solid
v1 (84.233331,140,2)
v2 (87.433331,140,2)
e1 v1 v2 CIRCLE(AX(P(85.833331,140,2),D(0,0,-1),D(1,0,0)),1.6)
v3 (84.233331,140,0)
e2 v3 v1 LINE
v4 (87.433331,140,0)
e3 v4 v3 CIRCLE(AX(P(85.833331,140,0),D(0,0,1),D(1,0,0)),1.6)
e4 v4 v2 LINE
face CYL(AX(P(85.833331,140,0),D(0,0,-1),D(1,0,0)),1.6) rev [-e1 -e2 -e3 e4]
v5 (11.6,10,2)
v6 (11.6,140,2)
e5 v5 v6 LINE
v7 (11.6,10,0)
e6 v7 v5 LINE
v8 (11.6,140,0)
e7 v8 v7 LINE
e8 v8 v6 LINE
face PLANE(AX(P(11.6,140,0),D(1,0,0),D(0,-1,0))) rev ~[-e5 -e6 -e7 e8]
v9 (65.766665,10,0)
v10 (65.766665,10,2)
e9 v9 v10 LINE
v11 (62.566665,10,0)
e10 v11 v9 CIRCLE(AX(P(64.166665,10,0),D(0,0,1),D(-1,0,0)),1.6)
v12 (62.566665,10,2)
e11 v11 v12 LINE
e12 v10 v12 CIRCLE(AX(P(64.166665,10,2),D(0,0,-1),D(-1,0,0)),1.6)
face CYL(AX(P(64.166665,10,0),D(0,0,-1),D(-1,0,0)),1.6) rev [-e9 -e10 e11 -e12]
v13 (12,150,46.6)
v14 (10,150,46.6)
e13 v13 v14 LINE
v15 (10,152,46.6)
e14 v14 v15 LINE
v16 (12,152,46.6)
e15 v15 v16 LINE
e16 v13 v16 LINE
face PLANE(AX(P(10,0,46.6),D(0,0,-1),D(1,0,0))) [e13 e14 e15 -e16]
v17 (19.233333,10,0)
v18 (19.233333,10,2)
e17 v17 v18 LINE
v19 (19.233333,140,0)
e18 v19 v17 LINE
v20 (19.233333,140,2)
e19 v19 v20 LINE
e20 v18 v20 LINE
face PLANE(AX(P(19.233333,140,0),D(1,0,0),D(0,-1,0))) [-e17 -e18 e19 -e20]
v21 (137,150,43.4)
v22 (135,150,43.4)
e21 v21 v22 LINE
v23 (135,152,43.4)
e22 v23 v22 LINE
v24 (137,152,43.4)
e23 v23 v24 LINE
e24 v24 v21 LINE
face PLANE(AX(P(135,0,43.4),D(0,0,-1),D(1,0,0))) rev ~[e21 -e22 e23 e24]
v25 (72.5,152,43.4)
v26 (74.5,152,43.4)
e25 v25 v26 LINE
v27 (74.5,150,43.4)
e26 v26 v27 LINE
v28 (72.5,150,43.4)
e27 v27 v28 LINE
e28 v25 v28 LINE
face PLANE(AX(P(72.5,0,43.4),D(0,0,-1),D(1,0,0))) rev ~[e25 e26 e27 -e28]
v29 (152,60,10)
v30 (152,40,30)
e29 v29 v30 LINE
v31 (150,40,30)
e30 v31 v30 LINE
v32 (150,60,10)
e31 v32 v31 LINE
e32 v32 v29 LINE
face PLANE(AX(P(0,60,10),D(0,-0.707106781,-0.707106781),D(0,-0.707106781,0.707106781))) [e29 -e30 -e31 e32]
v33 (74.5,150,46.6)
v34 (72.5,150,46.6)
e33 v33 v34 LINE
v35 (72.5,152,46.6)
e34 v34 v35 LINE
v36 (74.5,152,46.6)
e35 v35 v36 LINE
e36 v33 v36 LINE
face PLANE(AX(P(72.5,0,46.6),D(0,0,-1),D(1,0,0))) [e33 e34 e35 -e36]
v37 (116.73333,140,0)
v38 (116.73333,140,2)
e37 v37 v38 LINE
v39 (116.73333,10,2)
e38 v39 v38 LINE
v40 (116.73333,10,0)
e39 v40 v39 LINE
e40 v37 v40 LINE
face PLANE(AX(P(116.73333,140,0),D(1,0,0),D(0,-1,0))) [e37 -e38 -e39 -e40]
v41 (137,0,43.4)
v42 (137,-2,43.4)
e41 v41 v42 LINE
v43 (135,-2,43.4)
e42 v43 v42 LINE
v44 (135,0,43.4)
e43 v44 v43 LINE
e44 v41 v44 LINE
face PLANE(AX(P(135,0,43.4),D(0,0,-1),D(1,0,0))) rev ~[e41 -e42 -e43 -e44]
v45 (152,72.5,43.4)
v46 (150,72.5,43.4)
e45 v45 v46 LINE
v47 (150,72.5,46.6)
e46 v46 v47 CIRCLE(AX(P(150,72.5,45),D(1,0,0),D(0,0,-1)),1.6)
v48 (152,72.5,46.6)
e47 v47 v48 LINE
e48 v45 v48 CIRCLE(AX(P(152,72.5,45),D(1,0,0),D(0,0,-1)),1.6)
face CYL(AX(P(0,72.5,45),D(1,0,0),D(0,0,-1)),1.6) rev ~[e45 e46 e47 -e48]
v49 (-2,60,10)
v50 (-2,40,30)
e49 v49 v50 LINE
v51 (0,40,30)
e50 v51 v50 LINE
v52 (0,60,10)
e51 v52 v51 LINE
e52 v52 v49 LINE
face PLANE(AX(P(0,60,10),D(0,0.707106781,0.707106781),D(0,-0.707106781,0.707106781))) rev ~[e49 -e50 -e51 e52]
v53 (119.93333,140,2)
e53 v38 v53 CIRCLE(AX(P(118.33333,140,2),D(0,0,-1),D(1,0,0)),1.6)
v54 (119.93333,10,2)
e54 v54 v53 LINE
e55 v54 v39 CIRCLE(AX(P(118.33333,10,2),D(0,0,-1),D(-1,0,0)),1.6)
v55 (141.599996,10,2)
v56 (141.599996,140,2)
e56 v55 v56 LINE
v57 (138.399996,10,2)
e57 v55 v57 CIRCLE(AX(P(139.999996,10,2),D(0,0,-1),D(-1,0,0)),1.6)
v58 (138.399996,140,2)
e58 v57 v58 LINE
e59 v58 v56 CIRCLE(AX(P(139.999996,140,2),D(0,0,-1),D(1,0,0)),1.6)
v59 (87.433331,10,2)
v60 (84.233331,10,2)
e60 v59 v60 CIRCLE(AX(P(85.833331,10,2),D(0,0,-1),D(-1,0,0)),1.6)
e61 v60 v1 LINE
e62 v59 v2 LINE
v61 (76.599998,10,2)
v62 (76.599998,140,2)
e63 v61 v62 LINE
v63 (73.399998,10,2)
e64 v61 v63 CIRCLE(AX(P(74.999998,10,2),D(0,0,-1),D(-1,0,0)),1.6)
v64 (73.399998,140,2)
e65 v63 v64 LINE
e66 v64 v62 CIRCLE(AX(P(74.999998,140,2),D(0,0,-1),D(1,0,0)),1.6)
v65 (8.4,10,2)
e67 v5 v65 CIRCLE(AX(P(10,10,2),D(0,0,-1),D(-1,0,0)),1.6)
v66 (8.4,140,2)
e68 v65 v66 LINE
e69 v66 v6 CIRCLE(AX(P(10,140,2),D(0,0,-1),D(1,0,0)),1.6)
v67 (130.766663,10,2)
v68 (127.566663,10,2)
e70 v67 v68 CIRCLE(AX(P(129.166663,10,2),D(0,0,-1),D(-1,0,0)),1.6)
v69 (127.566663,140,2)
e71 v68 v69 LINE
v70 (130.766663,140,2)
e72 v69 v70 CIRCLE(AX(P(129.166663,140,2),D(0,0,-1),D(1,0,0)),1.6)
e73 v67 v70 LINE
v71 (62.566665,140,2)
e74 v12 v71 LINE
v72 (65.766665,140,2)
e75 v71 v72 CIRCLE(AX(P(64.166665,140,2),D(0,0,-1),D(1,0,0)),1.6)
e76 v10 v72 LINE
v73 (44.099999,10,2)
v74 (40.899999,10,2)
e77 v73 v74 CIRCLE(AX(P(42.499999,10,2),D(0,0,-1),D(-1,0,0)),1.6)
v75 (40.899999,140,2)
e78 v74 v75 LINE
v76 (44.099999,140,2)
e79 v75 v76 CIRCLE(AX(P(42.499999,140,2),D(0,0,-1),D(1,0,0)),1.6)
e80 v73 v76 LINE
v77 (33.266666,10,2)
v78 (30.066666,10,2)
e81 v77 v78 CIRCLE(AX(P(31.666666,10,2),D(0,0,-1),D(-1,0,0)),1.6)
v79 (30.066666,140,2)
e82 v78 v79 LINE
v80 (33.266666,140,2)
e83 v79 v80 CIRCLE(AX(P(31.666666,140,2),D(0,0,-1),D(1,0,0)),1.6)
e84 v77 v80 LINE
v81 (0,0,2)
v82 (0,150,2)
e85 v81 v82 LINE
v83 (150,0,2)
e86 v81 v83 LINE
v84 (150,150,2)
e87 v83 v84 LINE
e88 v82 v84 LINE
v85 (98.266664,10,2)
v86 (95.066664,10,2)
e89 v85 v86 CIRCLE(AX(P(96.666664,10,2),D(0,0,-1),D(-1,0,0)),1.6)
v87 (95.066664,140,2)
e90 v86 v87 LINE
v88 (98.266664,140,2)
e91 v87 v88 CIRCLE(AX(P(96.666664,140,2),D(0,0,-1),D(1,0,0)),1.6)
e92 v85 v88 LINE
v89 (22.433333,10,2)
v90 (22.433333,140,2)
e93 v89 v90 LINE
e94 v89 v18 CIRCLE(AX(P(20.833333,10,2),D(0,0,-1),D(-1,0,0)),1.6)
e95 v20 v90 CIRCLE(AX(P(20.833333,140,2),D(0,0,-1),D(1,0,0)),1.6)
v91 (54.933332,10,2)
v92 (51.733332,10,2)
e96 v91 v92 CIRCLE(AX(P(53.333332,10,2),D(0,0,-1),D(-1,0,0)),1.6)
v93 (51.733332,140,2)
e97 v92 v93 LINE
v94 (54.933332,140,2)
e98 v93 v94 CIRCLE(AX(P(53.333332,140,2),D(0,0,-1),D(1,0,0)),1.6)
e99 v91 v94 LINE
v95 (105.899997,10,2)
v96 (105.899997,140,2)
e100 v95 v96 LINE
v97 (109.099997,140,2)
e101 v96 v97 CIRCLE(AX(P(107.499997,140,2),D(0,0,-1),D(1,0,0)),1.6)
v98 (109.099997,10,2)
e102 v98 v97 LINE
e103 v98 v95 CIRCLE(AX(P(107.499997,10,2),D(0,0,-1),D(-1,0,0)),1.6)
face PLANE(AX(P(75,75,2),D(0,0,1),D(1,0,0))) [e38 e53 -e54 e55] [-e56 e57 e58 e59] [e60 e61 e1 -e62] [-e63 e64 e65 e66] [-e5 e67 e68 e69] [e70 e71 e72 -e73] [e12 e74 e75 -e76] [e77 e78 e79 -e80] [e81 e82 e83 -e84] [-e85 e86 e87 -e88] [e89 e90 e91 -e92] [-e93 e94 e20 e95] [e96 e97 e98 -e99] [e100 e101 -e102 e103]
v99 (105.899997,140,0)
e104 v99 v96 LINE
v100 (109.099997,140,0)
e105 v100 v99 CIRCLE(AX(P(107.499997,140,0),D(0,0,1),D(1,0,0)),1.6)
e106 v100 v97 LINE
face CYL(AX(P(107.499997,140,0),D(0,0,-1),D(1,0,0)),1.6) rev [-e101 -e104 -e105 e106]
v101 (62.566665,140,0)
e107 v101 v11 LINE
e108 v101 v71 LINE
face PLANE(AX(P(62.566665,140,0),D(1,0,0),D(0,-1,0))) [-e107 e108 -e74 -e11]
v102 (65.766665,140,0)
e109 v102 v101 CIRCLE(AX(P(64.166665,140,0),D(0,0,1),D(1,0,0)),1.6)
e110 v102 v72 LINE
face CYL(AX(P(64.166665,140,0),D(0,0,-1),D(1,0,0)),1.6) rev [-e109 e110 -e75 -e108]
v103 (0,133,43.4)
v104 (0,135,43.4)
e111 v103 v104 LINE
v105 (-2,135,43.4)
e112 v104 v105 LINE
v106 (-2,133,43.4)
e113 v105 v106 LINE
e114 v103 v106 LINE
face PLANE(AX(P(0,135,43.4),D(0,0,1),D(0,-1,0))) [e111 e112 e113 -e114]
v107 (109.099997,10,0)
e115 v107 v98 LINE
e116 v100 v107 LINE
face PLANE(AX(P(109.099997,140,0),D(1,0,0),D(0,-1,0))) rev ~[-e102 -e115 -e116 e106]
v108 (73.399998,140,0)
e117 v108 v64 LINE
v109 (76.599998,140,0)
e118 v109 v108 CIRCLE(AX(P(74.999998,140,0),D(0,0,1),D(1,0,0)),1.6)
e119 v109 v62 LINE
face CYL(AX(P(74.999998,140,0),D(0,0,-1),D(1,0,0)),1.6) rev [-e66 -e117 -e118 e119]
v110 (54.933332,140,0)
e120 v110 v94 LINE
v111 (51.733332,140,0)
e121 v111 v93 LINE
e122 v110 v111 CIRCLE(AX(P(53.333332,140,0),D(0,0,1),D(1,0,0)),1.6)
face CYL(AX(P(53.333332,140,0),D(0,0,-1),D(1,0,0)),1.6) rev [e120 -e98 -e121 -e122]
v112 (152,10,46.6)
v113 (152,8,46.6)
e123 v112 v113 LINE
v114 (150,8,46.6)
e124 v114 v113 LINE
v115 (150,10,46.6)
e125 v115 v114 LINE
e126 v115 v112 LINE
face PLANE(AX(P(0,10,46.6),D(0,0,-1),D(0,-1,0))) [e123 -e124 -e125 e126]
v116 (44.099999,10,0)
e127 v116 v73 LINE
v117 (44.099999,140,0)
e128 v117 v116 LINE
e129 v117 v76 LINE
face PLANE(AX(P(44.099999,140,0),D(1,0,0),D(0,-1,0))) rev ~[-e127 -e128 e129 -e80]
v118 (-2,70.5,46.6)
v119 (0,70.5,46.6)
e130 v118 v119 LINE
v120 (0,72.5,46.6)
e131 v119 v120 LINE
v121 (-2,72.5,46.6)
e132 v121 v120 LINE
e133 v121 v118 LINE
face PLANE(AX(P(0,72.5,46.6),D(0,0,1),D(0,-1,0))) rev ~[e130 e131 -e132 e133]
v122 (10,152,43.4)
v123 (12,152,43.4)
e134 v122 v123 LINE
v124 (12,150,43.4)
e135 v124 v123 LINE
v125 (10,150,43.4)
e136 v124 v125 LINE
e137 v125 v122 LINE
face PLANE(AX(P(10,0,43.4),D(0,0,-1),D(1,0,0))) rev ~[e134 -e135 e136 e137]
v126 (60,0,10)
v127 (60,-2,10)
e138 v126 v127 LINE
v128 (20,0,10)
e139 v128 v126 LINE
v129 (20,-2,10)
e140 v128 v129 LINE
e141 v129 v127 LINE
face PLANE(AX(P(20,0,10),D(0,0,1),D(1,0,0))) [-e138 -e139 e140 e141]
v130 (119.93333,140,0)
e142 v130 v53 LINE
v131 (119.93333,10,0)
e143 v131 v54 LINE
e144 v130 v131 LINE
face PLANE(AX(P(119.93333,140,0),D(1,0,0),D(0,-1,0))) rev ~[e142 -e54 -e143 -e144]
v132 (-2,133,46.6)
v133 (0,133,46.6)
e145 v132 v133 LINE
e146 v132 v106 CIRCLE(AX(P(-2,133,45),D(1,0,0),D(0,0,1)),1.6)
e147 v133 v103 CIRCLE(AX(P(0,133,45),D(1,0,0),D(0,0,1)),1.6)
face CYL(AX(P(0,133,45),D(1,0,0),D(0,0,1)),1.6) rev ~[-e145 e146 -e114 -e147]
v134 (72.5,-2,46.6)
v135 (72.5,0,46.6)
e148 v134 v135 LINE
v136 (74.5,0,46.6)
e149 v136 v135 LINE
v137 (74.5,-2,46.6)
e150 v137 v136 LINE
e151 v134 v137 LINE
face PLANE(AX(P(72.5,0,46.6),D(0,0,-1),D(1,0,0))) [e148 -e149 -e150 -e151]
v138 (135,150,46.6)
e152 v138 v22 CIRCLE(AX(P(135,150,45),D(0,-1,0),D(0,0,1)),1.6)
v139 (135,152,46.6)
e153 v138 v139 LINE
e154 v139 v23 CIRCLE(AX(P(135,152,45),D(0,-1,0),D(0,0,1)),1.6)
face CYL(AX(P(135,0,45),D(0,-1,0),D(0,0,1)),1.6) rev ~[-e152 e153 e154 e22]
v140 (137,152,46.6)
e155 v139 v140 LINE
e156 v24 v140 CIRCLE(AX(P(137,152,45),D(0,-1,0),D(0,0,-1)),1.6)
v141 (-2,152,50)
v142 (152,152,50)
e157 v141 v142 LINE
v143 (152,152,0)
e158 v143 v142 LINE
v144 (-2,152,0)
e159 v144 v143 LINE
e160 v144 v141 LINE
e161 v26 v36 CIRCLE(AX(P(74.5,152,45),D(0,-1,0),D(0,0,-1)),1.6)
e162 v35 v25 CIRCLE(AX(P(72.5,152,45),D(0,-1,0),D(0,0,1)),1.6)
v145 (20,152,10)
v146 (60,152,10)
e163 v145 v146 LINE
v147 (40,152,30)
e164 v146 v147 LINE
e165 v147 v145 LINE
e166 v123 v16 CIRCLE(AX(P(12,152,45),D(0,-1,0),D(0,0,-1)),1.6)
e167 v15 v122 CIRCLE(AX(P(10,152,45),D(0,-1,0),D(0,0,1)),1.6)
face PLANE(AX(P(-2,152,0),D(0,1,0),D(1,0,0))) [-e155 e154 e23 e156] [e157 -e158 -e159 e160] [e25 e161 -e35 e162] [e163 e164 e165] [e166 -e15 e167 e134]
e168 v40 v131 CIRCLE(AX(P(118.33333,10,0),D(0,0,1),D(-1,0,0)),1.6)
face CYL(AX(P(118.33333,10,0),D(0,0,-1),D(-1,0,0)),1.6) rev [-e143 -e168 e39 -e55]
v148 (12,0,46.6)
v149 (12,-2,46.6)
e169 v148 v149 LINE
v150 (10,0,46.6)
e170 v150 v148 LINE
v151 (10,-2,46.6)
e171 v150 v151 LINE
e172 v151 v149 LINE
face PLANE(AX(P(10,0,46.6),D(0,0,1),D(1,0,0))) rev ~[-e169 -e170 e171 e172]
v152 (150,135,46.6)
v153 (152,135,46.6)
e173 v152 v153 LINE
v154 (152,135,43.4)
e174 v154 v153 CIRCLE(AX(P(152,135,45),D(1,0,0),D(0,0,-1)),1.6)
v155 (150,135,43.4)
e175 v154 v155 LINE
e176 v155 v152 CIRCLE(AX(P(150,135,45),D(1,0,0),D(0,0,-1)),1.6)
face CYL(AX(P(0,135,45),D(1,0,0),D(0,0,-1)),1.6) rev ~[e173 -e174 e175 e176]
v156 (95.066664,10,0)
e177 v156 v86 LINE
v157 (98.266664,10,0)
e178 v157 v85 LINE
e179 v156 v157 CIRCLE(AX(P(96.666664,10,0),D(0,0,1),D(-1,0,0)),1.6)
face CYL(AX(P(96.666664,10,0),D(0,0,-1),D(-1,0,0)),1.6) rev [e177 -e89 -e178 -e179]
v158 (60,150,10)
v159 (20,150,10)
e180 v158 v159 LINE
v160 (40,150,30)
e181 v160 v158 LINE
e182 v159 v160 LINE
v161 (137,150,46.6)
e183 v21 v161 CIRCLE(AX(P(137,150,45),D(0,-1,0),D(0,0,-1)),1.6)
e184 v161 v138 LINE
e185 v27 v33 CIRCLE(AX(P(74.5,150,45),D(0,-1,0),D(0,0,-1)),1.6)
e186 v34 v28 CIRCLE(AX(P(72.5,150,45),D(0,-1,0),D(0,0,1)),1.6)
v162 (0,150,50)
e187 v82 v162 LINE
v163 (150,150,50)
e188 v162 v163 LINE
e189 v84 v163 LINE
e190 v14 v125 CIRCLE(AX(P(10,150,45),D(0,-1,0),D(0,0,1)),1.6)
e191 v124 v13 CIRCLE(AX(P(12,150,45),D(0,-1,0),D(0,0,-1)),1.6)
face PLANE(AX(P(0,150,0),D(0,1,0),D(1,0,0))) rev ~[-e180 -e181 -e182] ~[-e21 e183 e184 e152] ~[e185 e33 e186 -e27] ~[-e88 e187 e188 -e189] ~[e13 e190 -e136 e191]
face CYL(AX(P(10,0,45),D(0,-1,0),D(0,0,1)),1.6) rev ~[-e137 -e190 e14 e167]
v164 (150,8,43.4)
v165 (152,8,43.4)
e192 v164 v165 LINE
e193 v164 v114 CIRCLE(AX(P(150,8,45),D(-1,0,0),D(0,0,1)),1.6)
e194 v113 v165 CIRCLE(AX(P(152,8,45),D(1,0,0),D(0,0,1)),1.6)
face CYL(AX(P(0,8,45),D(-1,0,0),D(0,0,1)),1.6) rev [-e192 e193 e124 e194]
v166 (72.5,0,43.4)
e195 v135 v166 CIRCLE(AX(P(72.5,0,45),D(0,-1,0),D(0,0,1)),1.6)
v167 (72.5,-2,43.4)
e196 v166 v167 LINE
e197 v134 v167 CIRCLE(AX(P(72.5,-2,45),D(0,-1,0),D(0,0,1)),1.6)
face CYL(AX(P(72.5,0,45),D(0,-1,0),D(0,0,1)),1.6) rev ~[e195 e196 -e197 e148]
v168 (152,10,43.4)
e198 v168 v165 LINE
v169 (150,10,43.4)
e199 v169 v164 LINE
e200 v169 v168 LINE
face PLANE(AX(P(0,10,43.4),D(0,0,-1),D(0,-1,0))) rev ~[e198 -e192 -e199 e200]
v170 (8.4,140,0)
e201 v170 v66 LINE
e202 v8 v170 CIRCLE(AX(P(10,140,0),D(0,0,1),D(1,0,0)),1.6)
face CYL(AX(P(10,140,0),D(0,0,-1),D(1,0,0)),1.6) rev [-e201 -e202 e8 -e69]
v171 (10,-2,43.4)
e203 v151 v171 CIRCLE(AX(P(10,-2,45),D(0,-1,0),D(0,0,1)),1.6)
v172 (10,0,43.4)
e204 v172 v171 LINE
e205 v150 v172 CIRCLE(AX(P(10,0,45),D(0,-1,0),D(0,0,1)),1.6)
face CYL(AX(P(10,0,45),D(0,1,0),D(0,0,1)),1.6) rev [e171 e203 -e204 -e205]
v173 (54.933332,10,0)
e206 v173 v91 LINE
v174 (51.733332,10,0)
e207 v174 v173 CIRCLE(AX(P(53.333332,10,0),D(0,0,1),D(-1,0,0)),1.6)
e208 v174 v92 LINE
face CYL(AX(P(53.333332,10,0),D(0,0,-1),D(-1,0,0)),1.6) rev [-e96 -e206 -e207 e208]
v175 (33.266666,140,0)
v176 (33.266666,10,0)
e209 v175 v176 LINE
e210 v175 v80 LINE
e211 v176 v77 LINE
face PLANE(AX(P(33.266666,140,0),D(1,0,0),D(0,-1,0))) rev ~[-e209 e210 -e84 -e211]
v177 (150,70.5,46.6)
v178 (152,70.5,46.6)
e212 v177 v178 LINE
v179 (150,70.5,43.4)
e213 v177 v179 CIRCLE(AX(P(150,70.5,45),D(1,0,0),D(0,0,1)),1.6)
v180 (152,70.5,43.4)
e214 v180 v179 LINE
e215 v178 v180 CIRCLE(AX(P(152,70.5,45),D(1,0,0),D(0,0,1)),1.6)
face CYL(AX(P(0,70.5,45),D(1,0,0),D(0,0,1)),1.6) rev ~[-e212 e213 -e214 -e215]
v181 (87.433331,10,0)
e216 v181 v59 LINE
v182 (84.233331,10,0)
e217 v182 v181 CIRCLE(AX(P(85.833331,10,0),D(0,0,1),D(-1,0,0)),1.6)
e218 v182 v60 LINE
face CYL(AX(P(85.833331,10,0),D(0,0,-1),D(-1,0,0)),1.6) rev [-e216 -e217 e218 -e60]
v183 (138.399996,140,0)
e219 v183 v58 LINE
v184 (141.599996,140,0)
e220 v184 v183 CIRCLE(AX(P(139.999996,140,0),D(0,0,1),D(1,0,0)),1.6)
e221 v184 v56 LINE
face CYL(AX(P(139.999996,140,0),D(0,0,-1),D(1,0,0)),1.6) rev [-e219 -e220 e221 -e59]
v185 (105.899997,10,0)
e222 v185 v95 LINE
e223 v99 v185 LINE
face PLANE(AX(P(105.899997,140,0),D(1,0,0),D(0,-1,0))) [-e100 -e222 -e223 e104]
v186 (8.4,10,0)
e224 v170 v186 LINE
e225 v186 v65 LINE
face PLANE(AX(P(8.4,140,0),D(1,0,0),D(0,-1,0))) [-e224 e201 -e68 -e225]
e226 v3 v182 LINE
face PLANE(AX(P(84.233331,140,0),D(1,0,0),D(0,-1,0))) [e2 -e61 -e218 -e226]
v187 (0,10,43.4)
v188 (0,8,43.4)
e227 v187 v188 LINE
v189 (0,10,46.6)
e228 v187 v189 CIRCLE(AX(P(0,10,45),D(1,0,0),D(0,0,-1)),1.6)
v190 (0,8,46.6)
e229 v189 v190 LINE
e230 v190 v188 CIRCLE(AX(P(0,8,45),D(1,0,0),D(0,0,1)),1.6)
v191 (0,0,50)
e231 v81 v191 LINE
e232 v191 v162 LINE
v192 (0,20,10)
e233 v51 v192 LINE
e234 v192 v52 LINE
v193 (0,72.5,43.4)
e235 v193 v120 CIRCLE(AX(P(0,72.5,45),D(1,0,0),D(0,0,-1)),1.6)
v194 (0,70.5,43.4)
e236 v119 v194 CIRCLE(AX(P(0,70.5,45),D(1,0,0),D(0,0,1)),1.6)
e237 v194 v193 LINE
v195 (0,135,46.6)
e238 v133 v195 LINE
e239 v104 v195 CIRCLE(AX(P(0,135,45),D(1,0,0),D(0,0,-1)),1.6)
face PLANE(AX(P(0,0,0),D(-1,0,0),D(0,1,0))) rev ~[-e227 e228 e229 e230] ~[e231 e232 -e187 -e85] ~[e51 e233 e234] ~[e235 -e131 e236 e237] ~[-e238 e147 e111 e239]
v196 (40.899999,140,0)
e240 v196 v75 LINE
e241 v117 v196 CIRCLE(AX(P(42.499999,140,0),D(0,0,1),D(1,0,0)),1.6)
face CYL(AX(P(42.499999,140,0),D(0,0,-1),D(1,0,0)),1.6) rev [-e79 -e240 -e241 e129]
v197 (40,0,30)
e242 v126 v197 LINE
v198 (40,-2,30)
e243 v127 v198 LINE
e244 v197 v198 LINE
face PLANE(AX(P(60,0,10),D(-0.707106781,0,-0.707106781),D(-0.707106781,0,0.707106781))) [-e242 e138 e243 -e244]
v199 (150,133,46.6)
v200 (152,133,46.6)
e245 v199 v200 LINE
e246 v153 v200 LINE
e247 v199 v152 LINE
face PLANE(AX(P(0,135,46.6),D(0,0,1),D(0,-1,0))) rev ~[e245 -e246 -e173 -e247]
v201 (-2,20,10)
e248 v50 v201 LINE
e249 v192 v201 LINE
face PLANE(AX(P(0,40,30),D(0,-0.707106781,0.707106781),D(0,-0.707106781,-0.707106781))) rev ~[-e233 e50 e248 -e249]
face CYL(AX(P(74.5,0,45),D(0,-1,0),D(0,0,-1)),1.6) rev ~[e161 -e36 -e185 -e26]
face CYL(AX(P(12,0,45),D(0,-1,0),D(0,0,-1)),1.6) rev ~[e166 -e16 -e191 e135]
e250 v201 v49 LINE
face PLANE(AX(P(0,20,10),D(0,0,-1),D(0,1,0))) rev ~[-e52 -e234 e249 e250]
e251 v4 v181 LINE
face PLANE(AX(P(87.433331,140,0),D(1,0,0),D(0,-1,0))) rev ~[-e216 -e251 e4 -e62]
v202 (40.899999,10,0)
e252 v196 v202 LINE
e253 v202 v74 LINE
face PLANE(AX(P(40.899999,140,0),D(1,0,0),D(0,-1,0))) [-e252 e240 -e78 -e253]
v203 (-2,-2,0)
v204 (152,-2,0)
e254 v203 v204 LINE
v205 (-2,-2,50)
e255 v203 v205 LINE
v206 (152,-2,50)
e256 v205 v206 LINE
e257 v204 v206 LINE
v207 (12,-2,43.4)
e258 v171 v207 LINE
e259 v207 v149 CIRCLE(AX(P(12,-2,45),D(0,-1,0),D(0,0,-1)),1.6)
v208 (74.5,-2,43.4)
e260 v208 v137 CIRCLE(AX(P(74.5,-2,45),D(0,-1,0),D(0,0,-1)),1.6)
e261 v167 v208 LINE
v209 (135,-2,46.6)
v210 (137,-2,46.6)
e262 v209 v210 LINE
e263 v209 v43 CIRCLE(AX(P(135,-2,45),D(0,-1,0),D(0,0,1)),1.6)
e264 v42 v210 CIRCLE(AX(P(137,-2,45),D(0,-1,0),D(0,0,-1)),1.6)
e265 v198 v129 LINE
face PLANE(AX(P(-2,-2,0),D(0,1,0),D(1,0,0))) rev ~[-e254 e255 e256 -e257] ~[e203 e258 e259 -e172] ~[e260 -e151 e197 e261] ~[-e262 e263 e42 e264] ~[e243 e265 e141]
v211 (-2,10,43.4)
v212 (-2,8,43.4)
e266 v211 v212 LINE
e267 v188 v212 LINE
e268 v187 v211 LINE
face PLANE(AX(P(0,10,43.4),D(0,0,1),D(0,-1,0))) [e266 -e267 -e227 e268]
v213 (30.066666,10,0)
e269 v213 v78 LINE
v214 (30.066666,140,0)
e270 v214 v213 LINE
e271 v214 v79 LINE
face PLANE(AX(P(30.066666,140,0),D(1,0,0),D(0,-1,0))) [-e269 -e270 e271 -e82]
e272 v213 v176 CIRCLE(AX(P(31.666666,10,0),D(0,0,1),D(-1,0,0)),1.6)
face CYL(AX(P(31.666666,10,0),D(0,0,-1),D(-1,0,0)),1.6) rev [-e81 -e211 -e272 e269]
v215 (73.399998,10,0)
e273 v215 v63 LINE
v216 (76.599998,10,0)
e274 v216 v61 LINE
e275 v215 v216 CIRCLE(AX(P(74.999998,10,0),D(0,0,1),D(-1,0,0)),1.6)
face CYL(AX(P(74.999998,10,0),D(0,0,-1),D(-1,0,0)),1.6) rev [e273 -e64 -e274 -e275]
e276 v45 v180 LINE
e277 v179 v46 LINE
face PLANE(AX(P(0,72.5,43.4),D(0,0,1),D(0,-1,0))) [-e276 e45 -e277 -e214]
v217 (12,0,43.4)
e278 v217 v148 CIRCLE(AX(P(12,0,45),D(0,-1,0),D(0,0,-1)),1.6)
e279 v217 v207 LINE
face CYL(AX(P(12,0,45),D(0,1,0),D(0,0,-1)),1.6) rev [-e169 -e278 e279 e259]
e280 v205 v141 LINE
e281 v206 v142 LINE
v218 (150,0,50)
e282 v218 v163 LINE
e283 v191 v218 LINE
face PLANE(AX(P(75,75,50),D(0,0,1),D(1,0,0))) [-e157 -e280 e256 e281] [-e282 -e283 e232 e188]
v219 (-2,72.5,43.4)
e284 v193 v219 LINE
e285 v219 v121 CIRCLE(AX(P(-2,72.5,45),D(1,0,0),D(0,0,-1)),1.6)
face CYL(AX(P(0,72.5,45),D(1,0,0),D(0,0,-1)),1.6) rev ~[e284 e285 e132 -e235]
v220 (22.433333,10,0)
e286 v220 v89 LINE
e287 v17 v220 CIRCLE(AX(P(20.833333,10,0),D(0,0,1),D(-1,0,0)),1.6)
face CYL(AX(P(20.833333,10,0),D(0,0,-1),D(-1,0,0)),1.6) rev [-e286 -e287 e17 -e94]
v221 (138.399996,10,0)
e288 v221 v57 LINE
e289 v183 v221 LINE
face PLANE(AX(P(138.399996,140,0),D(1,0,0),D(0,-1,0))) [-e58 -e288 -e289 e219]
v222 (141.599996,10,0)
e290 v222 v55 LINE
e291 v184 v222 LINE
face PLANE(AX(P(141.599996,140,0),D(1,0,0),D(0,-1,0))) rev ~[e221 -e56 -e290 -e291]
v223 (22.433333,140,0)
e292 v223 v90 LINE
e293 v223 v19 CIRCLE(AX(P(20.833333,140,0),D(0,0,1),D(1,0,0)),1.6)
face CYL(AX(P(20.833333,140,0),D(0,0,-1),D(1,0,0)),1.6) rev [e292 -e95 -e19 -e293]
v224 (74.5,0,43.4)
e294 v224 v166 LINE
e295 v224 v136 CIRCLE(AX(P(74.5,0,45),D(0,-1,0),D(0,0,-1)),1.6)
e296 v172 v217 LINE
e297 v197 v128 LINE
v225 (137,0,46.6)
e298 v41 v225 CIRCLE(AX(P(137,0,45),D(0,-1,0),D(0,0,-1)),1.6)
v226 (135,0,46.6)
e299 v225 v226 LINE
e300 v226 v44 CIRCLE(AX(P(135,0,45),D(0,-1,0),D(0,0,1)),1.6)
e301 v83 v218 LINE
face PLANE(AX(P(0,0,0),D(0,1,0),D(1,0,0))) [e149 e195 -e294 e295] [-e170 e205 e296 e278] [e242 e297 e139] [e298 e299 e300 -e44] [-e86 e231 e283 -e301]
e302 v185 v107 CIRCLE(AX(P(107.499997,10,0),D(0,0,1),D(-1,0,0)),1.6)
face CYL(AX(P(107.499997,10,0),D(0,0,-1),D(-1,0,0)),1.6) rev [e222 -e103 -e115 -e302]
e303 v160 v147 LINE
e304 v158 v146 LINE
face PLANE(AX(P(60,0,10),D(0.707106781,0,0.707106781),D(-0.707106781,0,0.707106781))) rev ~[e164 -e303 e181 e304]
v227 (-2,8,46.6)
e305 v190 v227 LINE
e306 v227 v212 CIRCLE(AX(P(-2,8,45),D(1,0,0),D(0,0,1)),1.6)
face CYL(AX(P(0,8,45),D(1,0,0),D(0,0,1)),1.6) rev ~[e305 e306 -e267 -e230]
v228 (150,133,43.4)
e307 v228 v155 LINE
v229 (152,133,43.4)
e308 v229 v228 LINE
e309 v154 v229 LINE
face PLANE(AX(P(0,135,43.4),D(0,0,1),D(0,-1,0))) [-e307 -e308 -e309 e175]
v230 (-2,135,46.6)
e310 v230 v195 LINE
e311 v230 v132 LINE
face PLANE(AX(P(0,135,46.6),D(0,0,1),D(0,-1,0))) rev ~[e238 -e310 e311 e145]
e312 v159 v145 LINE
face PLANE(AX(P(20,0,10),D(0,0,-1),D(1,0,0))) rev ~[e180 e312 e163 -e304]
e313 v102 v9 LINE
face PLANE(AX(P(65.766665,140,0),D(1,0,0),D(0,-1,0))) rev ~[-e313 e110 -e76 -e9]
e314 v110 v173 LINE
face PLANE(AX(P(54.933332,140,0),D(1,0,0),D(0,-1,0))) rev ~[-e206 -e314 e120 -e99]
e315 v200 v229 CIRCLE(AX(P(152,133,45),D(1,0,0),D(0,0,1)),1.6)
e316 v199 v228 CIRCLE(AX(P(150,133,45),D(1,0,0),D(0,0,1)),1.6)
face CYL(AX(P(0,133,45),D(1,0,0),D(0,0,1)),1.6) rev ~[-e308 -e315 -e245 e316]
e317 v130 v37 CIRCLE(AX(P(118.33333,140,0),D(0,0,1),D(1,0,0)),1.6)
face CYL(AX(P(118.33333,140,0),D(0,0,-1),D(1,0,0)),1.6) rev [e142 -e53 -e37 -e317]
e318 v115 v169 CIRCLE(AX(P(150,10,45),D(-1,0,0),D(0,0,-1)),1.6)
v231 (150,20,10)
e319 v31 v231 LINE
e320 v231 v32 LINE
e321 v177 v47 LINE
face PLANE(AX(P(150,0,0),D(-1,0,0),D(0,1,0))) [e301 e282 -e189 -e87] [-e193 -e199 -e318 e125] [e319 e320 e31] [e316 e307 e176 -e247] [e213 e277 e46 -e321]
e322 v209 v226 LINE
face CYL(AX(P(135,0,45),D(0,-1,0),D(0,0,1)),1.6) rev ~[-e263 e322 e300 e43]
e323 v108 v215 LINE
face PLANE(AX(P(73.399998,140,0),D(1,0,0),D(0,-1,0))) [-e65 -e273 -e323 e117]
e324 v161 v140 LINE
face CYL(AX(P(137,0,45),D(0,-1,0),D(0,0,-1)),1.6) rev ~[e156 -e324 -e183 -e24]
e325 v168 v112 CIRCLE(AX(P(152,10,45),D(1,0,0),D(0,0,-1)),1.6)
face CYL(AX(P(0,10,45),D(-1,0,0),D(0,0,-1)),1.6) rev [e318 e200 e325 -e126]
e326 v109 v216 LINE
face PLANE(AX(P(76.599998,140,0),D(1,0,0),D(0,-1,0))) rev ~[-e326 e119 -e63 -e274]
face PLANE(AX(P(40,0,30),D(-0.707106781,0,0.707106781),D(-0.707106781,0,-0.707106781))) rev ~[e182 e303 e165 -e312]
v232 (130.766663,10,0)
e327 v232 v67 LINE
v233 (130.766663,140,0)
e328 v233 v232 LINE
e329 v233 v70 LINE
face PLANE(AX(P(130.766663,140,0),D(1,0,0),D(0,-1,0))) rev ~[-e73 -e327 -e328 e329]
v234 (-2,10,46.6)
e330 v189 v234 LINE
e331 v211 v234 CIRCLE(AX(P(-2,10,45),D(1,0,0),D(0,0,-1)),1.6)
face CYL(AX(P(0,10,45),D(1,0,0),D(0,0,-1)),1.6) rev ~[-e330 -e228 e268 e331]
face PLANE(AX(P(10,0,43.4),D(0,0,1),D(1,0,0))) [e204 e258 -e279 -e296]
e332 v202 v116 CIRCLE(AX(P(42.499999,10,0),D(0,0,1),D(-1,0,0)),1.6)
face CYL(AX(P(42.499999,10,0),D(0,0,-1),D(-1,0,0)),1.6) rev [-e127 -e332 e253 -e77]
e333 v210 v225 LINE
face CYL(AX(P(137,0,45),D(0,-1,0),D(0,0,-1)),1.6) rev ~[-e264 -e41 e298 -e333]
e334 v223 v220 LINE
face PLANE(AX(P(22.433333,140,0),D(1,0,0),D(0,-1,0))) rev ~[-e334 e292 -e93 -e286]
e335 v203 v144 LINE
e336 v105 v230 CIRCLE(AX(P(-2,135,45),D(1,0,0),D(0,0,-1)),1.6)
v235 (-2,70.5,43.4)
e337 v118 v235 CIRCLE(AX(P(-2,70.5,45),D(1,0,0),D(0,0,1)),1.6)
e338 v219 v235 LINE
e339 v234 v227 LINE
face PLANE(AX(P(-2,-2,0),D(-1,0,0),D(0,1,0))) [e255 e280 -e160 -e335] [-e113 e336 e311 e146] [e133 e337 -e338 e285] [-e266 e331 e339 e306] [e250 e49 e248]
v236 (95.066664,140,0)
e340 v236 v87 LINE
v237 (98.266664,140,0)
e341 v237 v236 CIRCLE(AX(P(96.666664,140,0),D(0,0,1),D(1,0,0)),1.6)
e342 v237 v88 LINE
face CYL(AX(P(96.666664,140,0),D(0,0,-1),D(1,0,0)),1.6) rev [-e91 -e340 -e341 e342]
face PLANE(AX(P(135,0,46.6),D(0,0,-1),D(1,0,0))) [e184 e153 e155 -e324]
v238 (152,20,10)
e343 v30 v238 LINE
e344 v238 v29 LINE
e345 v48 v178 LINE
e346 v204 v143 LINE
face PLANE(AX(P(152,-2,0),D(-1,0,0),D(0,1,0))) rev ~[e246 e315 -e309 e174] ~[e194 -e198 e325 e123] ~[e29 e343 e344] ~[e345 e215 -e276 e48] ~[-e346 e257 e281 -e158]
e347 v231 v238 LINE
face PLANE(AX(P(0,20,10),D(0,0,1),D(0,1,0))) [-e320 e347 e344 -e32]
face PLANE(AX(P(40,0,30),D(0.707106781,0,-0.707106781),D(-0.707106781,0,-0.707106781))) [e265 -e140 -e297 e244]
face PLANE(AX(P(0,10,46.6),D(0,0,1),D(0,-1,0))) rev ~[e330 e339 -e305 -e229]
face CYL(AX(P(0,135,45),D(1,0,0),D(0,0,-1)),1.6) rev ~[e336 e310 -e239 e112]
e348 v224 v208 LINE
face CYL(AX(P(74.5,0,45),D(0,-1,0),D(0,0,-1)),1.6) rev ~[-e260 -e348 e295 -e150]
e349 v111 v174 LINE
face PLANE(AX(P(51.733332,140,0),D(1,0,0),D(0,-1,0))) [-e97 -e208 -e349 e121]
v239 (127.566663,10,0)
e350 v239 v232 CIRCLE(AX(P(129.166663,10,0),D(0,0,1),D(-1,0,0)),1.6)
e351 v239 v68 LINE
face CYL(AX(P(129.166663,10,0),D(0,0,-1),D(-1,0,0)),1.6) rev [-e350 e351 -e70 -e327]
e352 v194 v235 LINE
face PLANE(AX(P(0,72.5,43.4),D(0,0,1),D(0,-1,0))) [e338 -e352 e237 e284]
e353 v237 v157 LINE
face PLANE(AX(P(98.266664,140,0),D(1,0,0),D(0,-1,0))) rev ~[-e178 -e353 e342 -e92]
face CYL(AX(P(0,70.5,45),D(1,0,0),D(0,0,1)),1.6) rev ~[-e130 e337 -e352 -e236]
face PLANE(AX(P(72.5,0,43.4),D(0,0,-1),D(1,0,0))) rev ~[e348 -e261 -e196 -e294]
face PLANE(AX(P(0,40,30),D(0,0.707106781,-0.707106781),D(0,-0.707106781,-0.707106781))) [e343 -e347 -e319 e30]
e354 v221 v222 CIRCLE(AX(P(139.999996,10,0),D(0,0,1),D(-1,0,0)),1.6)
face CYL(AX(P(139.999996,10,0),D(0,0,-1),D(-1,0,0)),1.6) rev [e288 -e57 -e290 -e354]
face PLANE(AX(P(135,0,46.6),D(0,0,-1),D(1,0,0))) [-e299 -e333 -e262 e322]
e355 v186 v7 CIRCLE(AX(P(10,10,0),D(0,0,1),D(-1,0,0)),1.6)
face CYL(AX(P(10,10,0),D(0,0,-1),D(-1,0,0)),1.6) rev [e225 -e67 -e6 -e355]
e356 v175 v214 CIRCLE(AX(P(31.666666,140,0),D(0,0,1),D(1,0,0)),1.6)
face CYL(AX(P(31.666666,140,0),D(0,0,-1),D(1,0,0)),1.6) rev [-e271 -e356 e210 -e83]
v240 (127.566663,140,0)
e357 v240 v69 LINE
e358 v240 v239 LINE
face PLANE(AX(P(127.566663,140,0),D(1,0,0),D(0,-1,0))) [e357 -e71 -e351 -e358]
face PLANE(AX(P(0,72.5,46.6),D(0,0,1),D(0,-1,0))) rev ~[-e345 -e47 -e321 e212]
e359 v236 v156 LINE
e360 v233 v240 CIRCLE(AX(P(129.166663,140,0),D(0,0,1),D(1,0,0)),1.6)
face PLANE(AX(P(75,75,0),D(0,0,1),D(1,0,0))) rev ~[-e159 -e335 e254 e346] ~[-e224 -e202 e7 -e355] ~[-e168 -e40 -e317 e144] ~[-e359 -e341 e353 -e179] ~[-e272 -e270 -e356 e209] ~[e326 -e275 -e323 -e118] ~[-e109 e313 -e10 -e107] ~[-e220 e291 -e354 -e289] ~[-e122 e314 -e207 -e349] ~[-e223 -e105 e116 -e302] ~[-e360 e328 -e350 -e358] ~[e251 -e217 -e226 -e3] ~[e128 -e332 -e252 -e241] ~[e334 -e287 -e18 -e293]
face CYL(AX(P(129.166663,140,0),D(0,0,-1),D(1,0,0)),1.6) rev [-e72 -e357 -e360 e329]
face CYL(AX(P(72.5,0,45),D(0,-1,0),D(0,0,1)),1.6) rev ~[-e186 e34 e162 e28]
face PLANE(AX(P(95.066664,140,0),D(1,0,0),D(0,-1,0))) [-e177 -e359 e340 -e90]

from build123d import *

# Parameters (mm, degrees)
SKETCH_W               = 150
SKETCH_H               = 150
PAD_DEPTH              = 2
POCKET_DEPTH           = 2.001
LINEARPATTERN_COUNT    = 13
LINEARPATTERN_PITCH    = 10.833333
SKETCH002_W            = 154
SKETCH002_H            = 154
SKETCH002_W_2          = 150
SKETCH002_H_2          = 150
PAD001_DEPTH           = 50
POCKET001_DEPTH        = 152
POCKET001_DEPTH_BACK   = 2
POCKET002_DEPTH        = 2
POCKET002_DEPTH_BACK   = 152
LINEARPATTERN001_COUNT = 3
LINEARPATTERN001_PITCH = 62.5
LINEARPATTERN002_COUNT = 3
LINEARPATTERN002_PITCH = 62.5
POCKET003_DEPTH        = 152
POCKET003_DEPTH_BACK   = 2
POCKET004_DEPTH        = 2
POCKET004_DEPTH_BACK   = 152


with BuildPart() as part:
    # Sketch → Pad (new body)
    with BuildSketch(Plane.XY):
        with Locations((75, 75)):
            Rectangle(SKETCH_W, SKETCH_H)
    extrude(amount=PAD_DEPTH)

    # Sketch001 → Pocket (cut, through all)
    with BuildSketch(Plane.XY):
        with BuildLine():
            ThreePointArc((11.6, 140), (10, 141.6), (8.4, 140))
            Line((8.4, 140), (8.4, 10))
            ThreePointArc((8.4, 10), (10, 8.4), (11.6, 10))
            Line((11.6, 140), (11.6, 10))
        make_face()
    pocket = extrude(amount=POCKET_DEPTH, mode=Mode.SUBTRACT)

    # LinearPattern: Pocket ×13
    with Locations(*[(i * LINEARPATTERN_PITCH, 0, 0) for i in range(1, LINEARPATTERN_COUNT)]):
        add(pocket, mode=Mode.SUBTRACT)

    # Sketch002 → Pad001 (join)
    with BuildSketch(Plane.XY):
        with Locations((75, 75)):
            Rectangle(SKETCH002_W, SKETCH002_H)
        with Locations((75, 75)):
            Rectangle(SKETCH002_W_2, SKETCH002_H_2, mode=Mode.SUBTRACT)
    extrude(amount=PAD001_DEPTH)

    # Sketch003 → Pocket001 (cut, two sides)
    with BuildSketch(Plane.XZ) as pocket001_sk:
        with BuildLine():
            ThreePointArc((10, 46.6), (8.4, 45), (10, 43.4))
            Line((10, 43.4), (12, 43.4))
            ThreePointArc((12, 43.4), (13.6, 45), (12, 46.6))
            Line((10, 46.6), (12, 46.6))
        make_face()
    pocket001 = extrude(amount=-POCKET001_DEPTH, mode=Mode.SUBTRACT) + extrude(pocket001_sk.sketch, amount=POCKET001_DEPTH_BACK, mode=Mode.SUBTRACT)

    # Sketch004 → Pocket002 (cut, two sides)
    with BuildSketch(Plane.YZ) as pocket002_sk:
        with BuildLine():
            ThreePointArc((10, 43.4), (11.6, 45), (10, 46.6))
            Line((10, 46.6), (8, 46.6))
            ThreePointArc((8, 46.6), (6.4, 45), (8, 43.4))
            Line((10, 43.4), (8, 43.4))
        make_face()
    pocket002 = extrude(amount=-POCKET002_DEPTH, mode=Mode.SUBTRACT) + extrude(pocket002_sk.sketch, amount=POCKET002_DEPTH_BACK, mode=Mode.SUBTRACT)

    # LinearPattern001: Pocket001 ×3
    with Locations(*[(i * LINEARPATTERN001_PITCH, 0, 0) for i in range(1, LINEARPATTERN001_COUNT)]):
        add(pocket001, mode=Mode.SUBTRACT)

    # LinearPattern002: Pocket002 ×3
    with Locations(*[(0, i * LINEARPATTERN002_PITCH, 0) for i in range(1, LINEARPATTERN002_COUNT)]):
        add(pocket002, mode=Mode.SUBTRACT)

    # Sketch005 → Pocket003 (cut, two sides)
    with BuildSketch(Plane.XZ) as pocket003_sk:
        Polygon((20, 10), (60, 10), (40, 30), align=None)
    extrude(amount=-POCKET003_DEPTH, mode=Mode.SUBTRACT)
    extrude(pocket003_sk.sketch, amount=POCKET003_DEPTH_BACK, mode=Mode.SUBTRACT)

    # Sketch006 → Pocket004 (cut, two sides)
    with BuildSketch(Plane.YZ) as pocket004_sk:
        Polygon((20, 10), (60, 10), (40, 30), align=None)
    extrude(amount=-POCKET004_DEPTH, mode=Mode.SUBTRACT)
    extrude(pocket004_sk.sketch, amount=POCKET004_DEPTH_BACK, mode=Mode.SUBTRACT)


solid = part.part
